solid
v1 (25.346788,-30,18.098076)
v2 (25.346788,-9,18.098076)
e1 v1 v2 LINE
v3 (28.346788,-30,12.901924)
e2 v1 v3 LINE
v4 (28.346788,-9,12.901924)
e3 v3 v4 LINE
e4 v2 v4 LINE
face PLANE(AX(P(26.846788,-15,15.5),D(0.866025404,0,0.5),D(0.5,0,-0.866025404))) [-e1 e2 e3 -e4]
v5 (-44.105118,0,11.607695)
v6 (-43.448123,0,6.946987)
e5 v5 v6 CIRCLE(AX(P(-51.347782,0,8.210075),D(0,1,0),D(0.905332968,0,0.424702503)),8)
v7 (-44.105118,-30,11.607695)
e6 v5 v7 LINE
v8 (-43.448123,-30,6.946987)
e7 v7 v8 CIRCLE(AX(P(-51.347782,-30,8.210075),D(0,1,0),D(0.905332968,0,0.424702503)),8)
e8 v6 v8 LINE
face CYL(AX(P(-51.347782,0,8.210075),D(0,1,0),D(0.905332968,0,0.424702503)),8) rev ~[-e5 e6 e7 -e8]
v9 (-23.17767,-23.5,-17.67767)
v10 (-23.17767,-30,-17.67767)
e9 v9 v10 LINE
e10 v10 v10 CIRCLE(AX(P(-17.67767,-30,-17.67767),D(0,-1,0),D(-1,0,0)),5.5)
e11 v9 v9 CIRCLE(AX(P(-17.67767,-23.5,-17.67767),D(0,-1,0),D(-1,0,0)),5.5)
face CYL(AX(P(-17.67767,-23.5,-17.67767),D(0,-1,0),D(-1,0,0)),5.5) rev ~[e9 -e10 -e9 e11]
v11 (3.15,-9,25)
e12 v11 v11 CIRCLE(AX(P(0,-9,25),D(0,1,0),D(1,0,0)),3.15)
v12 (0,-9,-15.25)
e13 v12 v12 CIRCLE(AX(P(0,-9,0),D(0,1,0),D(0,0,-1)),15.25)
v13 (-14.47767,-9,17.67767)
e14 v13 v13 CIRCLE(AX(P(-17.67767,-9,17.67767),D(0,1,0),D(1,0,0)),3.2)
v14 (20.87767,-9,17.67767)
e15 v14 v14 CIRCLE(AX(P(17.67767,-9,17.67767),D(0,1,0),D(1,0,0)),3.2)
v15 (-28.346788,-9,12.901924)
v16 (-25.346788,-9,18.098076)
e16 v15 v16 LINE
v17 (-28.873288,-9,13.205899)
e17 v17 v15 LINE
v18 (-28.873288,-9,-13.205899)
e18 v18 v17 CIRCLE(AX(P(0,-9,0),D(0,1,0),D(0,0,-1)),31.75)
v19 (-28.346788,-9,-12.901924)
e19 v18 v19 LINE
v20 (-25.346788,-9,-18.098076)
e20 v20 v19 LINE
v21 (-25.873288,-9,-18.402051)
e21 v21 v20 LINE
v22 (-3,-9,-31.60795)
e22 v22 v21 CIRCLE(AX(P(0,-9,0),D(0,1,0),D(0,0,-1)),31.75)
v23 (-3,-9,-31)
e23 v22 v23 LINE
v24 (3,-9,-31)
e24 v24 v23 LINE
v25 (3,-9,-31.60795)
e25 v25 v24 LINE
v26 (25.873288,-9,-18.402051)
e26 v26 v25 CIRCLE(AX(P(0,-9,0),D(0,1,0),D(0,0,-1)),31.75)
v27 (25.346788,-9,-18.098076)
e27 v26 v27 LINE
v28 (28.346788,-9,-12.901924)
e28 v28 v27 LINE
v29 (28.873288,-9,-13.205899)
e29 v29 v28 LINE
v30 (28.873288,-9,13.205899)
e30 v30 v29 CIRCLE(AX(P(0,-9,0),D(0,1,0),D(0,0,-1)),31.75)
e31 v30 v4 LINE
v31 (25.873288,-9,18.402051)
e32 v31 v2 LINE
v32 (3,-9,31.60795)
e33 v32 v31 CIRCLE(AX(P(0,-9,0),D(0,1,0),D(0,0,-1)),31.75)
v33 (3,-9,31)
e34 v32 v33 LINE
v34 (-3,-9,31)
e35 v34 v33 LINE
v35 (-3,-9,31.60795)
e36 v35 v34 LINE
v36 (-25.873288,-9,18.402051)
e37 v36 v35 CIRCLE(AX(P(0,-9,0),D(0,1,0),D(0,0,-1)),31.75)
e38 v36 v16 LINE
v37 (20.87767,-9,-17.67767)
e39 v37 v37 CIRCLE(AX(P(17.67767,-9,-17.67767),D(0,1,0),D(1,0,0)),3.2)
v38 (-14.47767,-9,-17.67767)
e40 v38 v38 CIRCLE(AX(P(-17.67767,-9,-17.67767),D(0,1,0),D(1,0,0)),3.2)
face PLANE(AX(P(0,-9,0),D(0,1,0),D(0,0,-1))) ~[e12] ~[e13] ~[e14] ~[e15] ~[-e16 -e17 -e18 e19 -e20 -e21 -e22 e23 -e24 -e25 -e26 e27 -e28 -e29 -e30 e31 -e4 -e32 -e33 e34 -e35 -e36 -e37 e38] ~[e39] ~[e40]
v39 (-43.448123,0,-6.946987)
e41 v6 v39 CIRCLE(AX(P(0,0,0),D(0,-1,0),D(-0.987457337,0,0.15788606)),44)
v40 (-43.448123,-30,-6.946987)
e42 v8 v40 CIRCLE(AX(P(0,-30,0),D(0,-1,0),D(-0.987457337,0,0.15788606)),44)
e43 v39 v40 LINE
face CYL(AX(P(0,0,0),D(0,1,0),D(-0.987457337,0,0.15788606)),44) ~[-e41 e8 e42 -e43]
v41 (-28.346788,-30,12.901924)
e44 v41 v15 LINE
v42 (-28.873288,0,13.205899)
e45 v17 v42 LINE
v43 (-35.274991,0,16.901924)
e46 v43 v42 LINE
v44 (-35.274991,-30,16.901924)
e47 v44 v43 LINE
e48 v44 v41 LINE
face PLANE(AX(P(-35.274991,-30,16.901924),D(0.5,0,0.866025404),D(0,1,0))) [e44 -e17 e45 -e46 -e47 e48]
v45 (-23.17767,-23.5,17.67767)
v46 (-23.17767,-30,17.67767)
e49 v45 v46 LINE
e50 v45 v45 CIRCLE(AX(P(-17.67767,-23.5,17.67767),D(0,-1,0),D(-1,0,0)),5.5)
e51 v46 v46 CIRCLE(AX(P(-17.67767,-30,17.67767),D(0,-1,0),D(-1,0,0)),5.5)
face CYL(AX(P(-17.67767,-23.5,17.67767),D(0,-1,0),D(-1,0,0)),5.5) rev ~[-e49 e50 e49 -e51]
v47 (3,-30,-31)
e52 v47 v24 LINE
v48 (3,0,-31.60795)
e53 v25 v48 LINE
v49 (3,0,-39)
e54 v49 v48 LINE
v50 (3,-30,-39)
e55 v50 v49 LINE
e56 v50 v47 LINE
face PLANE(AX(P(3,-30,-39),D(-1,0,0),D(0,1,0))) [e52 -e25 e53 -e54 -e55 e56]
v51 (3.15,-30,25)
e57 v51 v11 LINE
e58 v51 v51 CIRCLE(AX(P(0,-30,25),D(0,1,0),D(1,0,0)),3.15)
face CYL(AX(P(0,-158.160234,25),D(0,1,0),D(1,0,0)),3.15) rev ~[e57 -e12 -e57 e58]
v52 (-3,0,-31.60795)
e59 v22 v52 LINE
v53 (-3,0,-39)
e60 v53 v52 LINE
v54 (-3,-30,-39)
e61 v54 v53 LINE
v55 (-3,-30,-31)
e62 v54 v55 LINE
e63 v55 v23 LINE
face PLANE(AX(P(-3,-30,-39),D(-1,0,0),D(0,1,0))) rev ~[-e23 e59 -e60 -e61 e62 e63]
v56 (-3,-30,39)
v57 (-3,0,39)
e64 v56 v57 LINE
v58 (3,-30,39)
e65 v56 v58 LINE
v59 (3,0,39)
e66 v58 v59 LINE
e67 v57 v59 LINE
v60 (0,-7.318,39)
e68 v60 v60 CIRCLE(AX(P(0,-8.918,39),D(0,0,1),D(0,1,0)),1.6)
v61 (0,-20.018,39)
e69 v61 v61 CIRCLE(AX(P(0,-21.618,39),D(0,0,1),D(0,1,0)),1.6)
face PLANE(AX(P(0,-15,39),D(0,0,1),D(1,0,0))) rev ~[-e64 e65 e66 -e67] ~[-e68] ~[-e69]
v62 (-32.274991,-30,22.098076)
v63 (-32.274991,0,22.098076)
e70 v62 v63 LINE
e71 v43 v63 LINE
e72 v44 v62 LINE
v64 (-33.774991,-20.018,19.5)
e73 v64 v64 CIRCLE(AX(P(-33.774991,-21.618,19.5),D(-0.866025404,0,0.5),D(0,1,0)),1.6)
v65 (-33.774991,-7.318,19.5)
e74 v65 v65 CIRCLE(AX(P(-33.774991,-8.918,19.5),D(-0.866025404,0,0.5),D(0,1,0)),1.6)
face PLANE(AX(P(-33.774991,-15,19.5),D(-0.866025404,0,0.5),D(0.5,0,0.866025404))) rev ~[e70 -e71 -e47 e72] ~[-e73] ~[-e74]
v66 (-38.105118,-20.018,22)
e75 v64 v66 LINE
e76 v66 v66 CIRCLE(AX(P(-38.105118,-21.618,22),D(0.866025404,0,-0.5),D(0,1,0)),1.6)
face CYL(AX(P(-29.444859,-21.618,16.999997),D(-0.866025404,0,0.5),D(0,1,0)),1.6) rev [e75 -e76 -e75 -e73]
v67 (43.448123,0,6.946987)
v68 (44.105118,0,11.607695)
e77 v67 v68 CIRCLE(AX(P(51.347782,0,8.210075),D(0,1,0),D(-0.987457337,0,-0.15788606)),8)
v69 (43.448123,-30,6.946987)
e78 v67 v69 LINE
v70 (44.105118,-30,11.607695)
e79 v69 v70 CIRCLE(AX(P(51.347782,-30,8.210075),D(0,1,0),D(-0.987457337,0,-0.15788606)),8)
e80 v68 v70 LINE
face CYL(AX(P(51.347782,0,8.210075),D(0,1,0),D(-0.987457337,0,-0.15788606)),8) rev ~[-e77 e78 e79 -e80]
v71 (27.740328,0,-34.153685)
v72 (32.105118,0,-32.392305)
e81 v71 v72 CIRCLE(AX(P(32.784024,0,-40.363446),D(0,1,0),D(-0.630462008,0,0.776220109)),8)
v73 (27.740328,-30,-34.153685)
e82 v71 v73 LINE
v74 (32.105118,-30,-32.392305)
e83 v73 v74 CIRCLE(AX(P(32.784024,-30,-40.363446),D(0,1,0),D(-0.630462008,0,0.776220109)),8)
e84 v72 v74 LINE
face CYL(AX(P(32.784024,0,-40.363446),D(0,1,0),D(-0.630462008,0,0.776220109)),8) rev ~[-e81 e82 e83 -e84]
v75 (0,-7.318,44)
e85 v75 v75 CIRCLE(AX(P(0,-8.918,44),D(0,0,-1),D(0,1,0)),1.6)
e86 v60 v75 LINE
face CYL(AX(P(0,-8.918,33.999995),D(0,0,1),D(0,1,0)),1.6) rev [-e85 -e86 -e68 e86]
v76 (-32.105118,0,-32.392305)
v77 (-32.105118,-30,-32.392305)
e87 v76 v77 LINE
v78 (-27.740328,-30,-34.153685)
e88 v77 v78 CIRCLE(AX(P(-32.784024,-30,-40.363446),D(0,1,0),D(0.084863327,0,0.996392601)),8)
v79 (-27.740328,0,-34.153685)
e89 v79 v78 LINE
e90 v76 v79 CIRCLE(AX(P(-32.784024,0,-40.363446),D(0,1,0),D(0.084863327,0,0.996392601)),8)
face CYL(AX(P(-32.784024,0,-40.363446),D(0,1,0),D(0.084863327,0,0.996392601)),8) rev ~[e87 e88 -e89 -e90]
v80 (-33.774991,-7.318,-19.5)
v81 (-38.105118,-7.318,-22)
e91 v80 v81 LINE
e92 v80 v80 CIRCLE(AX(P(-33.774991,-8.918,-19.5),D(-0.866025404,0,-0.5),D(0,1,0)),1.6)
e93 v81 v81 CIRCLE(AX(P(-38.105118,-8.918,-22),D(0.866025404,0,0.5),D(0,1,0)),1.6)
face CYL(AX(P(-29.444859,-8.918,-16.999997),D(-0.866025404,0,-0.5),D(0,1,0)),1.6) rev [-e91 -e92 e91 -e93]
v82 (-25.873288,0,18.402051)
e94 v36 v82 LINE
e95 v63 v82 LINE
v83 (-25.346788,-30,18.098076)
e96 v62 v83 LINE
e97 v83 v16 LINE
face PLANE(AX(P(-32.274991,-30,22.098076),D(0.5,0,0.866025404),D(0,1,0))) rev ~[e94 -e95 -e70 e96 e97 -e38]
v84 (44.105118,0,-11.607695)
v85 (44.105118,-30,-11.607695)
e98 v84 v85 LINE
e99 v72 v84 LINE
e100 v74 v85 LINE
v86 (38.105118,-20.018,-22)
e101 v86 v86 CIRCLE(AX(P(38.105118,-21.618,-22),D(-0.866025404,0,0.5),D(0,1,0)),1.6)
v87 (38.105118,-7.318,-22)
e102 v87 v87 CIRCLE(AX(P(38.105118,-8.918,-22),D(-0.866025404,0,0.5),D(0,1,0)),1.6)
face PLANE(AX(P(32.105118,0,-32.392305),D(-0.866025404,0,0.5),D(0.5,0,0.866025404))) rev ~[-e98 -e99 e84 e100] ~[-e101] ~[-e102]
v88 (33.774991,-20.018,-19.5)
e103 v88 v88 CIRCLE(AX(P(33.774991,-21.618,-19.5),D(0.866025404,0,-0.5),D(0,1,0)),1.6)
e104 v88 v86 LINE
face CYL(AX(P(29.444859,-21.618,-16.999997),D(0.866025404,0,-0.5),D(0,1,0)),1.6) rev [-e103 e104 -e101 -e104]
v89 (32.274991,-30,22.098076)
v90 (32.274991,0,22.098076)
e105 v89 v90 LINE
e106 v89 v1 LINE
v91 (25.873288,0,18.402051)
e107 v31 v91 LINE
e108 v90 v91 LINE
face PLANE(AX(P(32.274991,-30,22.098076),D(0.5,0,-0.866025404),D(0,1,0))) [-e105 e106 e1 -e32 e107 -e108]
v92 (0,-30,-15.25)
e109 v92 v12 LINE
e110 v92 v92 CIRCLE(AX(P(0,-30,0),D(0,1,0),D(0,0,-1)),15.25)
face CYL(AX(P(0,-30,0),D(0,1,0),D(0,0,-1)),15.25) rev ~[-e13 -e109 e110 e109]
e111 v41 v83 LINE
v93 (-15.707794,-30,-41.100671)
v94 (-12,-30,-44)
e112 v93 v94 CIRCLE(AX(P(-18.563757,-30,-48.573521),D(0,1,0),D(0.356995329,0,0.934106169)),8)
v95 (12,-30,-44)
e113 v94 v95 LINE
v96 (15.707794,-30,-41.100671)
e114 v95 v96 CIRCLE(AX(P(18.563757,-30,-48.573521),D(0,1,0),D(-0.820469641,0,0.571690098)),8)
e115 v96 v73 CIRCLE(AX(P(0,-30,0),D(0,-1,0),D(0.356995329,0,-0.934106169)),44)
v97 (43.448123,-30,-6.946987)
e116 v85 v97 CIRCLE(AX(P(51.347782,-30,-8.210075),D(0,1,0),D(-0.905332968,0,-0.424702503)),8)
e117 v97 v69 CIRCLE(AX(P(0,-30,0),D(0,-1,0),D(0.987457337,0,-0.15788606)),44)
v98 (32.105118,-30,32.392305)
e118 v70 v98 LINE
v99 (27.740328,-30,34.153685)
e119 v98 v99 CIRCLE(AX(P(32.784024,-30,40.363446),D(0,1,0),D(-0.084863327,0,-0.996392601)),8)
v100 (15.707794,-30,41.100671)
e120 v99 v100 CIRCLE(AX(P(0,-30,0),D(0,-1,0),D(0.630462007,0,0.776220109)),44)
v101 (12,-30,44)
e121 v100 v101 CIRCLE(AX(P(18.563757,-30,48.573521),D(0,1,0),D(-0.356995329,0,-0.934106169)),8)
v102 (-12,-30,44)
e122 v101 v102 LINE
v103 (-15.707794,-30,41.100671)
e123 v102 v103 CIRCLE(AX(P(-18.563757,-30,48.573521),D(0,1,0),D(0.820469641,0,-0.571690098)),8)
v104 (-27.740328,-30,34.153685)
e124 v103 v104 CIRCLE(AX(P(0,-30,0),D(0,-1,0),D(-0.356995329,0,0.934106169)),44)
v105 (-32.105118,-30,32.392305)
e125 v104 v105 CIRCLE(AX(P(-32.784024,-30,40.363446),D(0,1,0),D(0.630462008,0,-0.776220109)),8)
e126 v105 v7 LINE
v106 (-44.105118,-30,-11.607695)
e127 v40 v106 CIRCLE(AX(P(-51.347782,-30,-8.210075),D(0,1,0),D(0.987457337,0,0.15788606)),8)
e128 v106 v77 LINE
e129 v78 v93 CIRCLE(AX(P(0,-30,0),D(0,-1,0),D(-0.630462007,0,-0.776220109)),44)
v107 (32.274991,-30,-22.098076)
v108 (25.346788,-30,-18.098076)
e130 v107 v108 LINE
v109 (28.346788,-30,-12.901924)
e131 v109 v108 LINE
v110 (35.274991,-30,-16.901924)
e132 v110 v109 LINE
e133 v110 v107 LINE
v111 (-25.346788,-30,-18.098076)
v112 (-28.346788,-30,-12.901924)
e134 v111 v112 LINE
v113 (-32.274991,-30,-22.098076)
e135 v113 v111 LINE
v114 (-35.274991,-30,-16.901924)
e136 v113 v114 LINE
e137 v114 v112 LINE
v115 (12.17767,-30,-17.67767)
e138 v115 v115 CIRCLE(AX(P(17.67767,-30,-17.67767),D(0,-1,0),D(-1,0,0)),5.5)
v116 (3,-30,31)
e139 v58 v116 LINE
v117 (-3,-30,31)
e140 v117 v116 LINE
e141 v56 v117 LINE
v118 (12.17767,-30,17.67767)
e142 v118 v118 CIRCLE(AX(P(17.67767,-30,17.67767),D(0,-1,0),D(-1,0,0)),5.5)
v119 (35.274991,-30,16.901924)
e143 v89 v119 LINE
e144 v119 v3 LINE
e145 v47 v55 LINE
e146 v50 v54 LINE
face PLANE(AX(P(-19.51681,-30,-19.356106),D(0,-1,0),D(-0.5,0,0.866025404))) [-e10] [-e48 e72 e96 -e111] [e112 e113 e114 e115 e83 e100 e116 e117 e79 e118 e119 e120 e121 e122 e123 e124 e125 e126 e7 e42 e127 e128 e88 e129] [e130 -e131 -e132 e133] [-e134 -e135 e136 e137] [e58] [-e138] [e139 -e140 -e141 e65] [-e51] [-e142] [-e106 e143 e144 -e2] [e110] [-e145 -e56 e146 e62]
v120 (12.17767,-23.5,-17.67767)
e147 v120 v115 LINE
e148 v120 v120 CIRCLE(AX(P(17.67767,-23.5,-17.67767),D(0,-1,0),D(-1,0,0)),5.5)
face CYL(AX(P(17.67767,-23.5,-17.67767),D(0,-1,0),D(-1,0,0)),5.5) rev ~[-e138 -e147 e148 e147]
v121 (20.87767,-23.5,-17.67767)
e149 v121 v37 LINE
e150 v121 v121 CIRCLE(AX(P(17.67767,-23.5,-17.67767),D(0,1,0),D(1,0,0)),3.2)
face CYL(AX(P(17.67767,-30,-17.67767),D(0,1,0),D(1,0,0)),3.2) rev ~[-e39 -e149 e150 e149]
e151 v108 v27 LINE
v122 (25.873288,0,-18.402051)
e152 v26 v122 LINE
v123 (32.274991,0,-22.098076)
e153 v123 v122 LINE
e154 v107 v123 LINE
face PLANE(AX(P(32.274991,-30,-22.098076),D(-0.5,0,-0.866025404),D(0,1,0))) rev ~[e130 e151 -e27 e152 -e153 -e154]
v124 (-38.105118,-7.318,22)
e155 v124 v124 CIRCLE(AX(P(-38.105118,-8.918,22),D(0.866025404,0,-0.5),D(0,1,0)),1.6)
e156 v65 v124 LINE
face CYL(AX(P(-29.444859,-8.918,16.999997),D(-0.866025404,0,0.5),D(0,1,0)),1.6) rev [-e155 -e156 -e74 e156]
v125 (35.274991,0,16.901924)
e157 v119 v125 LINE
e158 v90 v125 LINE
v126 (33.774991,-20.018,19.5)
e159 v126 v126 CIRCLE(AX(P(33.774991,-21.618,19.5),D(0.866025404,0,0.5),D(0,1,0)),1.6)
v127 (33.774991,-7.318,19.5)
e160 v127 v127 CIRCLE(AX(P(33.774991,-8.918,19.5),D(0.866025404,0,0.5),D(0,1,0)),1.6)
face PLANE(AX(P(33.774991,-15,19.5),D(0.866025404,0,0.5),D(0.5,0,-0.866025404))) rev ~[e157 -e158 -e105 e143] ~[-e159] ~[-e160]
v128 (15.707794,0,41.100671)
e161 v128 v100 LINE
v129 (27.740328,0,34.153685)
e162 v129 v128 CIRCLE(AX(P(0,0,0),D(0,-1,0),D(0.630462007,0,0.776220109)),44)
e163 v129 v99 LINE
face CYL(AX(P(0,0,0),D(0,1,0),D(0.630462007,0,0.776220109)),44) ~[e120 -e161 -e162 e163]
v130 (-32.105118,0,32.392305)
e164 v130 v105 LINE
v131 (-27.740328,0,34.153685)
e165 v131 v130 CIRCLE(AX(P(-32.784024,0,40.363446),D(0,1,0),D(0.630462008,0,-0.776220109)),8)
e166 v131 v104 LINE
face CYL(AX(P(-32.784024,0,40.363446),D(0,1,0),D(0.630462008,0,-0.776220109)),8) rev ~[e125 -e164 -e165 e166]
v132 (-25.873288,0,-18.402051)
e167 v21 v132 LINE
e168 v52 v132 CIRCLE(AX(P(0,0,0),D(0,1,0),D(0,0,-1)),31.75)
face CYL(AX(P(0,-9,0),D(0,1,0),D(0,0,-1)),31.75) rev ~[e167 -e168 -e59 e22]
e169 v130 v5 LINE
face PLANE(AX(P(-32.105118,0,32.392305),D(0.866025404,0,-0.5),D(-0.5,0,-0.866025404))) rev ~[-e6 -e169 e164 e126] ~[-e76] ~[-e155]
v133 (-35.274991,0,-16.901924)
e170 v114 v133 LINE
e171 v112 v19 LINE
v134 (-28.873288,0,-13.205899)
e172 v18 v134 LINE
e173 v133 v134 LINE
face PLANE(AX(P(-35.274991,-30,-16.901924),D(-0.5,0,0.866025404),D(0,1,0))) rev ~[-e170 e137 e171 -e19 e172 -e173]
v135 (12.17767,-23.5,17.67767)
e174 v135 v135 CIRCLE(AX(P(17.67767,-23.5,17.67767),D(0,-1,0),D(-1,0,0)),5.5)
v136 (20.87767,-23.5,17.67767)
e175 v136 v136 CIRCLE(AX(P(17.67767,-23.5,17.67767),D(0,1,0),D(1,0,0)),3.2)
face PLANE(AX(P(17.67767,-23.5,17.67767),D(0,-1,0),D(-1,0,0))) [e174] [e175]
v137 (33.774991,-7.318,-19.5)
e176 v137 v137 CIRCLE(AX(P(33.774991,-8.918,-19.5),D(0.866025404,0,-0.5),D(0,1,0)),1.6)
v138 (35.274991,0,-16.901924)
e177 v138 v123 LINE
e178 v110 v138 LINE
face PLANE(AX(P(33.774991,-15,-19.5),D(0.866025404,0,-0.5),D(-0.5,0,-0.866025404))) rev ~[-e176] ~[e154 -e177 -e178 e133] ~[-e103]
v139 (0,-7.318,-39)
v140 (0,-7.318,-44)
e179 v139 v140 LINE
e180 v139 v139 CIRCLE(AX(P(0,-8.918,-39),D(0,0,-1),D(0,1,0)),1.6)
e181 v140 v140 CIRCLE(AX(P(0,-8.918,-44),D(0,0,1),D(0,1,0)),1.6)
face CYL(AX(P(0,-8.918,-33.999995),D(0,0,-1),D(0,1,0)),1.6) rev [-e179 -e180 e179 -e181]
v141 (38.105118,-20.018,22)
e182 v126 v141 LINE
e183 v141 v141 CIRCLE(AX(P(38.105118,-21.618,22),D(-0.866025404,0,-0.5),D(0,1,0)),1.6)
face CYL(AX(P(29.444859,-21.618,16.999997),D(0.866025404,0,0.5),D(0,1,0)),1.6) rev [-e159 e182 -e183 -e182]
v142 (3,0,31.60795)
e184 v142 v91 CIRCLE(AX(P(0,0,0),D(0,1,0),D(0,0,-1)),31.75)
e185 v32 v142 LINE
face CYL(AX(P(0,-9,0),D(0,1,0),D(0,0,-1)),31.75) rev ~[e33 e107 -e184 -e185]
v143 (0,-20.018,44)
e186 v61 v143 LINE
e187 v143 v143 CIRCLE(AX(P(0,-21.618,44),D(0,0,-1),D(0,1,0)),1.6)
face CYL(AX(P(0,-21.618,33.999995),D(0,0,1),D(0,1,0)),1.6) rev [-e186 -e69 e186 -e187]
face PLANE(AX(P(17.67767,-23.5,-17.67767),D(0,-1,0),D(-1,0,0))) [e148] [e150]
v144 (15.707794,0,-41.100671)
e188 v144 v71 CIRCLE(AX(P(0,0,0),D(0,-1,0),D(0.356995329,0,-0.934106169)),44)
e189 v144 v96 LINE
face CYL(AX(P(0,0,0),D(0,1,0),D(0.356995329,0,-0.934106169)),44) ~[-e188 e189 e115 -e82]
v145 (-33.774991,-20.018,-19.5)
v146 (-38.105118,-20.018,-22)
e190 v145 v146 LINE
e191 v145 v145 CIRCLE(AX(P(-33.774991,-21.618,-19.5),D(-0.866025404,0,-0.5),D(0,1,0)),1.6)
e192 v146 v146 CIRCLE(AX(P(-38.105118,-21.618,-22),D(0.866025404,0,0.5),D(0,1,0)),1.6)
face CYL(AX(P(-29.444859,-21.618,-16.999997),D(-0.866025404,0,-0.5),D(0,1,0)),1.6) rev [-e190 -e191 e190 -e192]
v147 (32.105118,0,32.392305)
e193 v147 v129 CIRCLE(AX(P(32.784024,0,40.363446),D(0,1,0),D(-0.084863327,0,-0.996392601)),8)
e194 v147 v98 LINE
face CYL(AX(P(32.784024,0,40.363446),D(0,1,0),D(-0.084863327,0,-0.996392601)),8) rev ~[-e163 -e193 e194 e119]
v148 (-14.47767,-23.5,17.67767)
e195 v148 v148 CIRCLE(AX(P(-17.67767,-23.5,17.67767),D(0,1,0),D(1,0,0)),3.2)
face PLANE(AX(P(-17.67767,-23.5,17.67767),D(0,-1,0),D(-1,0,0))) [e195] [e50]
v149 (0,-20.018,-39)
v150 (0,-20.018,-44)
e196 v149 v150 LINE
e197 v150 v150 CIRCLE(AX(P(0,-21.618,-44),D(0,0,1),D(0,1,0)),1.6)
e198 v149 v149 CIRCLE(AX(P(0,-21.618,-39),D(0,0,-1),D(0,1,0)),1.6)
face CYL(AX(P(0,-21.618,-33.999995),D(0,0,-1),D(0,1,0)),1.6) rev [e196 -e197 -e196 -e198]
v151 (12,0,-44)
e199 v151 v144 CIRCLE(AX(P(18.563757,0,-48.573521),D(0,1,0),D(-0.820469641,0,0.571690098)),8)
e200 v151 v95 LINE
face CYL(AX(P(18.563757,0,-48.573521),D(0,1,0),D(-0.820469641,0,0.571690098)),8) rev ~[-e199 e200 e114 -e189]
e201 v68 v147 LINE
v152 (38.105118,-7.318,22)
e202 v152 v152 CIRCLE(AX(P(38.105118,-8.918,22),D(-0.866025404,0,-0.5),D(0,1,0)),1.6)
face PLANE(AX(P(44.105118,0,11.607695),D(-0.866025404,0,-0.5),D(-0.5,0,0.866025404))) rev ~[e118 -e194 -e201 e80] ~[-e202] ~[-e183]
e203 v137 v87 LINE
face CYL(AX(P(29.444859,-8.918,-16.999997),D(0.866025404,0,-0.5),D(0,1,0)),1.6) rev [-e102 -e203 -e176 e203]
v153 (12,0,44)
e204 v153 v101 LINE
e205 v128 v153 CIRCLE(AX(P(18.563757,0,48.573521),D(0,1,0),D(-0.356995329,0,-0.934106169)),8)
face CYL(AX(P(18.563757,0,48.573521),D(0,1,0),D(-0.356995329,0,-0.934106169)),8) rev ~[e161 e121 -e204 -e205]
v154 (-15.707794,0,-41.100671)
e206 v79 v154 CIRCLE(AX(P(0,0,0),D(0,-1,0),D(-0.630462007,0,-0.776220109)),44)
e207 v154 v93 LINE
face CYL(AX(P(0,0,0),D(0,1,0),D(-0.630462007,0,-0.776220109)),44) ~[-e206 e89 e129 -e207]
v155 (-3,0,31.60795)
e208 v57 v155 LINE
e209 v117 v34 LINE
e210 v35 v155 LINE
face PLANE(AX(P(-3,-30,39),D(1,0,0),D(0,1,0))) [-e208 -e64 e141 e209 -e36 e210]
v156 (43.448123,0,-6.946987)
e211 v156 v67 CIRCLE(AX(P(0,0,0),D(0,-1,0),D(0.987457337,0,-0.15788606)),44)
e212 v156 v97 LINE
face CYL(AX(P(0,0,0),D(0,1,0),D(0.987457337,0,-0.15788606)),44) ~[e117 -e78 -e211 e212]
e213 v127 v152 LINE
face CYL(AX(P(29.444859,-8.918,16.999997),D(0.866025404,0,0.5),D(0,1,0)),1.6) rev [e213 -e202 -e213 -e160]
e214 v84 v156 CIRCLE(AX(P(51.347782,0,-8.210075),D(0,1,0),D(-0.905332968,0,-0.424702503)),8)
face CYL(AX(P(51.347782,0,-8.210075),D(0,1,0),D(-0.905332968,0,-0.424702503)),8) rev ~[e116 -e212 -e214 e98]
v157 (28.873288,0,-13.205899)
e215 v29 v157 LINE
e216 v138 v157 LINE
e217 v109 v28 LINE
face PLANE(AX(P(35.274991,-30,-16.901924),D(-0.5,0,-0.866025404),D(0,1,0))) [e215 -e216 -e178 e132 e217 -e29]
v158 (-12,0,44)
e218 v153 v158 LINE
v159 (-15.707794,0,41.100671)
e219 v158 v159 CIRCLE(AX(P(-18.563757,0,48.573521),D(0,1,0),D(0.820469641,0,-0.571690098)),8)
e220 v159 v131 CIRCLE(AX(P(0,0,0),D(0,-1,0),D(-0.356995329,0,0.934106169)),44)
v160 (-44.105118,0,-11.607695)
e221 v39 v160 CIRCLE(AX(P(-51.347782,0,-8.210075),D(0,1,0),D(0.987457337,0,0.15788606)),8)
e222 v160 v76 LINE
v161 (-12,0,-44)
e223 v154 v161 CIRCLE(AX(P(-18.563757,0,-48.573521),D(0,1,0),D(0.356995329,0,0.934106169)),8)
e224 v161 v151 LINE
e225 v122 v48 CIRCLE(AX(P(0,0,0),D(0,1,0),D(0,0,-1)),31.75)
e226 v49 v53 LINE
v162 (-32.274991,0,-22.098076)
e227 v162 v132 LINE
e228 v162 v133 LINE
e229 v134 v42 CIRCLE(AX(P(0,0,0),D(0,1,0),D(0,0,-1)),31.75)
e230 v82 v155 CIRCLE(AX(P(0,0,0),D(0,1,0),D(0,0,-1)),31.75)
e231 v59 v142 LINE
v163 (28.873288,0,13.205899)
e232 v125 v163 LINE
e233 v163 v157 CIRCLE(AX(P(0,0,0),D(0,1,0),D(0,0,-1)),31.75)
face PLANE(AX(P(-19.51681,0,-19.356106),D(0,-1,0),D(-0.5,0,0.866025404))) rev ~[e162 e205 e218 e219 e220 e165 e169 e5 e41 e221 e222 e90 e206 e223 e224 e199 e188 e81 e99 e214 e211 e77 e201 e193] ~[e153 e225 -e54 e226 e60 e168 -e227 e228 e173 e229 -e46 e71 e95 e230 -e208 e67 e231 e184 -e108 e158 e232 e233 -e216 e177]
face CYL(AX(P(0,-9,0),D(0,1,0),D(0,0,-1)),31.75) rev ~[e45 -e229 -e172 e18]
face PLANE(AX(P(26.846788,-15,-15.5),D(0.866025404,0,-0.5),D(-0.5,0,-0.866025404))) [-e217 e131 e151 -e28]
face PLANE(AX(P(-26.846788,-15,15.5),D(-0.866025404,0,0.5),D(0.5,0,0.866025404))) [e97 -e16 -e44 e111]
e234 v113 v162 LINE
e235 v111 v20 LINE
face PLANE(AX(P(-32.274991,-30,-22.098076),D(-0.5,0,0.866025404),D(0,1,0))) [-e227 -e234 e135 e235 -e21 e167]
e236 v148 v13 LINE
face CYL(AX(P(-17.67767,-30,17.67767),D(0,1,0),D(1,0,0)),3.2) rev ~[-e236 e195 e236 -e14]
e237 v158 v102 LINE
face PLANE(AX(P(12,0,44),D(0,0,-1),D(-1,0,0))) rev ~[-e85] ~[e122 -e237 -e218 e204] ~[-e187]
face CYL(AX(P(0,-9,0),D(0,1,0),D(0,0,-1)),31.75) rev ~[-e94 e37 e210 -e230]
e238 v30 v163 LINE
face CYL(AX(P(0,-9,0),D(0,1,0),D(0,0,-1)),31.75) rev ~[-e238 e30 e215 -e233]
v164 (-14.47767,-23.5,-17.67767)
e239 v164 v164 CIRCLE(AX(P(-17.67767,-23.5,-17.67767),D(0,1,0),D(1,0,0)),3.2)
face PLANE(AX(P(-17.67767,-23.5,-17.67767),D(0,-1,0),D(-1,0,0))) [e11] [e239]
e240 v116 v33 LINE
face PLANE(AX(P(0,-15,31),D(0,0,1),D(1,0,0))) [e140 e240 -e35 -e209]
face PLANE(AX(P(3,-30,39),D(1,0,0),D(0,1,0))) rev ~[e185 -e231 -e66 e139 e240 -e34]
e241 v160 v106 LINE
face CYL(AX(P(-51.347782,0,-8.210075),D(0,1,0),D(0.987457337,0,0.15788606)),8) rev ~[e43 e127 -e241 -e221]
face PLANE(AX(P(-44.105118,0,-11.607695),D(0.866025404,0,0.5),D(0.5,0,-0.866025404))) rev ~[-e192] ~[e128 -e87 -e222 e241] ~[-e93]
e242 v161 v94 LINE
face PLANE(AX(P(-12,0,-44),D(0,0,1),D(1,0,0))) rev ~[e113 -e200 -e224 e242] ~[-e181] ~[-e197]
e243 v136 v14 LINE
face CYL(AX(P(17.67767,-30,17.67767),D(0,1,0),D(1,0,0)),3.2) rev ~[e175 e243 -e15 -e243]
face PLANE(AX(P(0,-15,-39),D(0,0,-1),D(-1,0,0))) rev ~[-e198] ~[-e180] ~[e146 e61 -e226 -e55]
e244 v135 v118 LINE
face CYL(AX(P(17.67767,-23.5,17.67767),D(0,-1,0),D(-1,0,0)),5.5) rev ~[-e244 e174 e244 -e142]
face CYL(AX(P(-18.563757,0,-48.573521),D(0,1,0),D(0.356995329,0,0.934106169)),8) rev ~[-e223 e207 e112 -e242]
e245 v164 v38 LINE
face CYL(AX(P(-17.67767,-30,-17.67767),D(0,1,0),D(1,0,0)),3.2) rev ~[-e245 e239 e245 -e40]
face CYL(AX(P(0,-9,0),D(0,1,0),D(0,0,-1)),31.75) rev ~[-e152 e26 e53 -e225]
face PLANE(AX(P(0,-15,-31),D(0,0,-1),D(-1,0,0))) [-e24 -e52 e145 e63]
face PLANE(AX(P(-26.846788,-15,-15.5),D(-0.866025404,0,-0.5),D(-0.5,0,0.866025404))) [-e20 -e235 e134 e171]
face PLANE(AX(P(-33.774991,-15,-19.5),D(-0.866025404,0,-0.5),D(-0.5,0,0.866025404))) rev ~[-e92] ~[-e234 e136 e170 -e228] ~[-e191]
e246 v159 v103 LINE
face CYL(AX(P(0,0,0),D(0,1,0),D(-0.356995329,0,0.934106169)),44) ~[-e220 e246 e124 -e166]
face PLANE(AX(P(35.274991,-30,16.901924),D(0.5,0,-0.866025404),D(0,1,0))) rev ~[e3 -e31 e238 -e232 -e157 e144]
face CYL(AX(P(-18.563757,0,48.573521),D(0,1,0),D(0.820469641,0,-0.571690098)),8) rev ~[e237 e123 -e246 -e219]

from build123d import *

# Parameters (mm, degrees)
BOSS_EXTRUDE1_DEPTH                          = 30
M3_CLEARANCE_HOLE_PLASTIC_PARTS_ONLY_A_COUNT = 2
M3_CLEARANCE_HOLE_PLASTIC_PARTS_ONLY_A_PITCH = 12.7
WRENCH_START                                 = -5
SKETCH10_W                                   = 5.999999938
SKETCH10_H                                   = 30
WRENCH_CLEARANCE_SLOTS_PLASTIC_PARTS_O_DEPTH = 8
BODY_REVOLVE_PLASTIC_PARTS_ONLY_COUNT        = 6
MOUNTING_SCREWS_D                            = 6.4
MOUNTING_SCREWS_CBORE_D                      = 11
MOUNTING_SCREWS_CBORE_DEPTH                  = 6.5
LOCATING_PIN_D                               = 6.3


with BuildPart() as part:
    # Sketch2 → Boss-Extrude1 (new body)
    with BuildSketch(Plane(origin=(0, 0, 0), x_dir=(1, 0, 0), z_dir=(0, 1, 0))):
        with BuildLine():
            Line((-12, 44), (12, 44))
            ThreePointArc((12, 44), (13.635846147, 42.271481958), (15.707794494, 41.100671432))
            ThreePointArc((15.707794494, 41.100671432), (22, 38.105117767), (27.740328326, 34.153684785))
            ThreePointArc((27.740328326, 34.153684785), (29.790254158, 32.944730144), (32.105117767, 32.392304845))
            Line((32.105117767, 32.392304845), (0, 0))
            Line((0, 0), (-12, 44))
        make_face()
    boss_extrude1 = extrude(amount=-BOSS_EXTRUDE1_DEPTH)

    # Sketch9 → M3 Clearance Hole - Plastic Parts Only (revolve, cut)
    with BuildSketch(Plane(origin=(0, -8.918, -44), x_dir=(0, 1, 0), z_dir=(1, 0, 0))):
        Polygon((0, 0), (0, 10.96138239), (1.6, 10.0000054), (1.6, 0), align=None)
    m3_clearance_hole_plastic_parts_only = revolve(axis=Axis((0, -8.918, -50.35), (0, 0, 1)), mode=Mode.SUBTRACT)

    # M3 Clearance Hole - Plastic Parts Only a: M3 Clearance Hole - Plastic Parts Only ×2
    with Locations(*[(0, -i * M3_CLEARANCE_HOLE_PLASTIC_PARTS_ONLY_A_PITCH, 0) for i in range(1, M3_CLEARANCE_HOLE_PLASTIC_PARTS_ONLY_A_COUNT)]):
        add(m3_clearance_hole_plastic_parts_only, mode=Mode.SUBTRACT)

    # Sketch10 → Wrench Clearance Slots - Plastic Parts Only (cut)
    with BuildSketch(Plane(origin=(0, 0, -44), x_dir=(-1, 0, 0), z_dir=(0, 0, -1)).offset(WRENCH_START)):
        with Locations((0, -15)):
            Rectangle(SKETCH10_W, SKETCH10_H)
    wrench_clearance_slots_plastic_parts_o = extrude(amount=-WRENCH_CLEARANCE_SLOTS_PLASTIC_PARTS_O_DEPTH, mode=Mode.SUBTRACT)

    # Body Revolve - Plastic Parts Only: Boss-Extrude1, M3 Clearance Hole - Plastic Parts Only, Wrench Clearance Slots - Plastic Parts Only ×6 about axis
    body_revolve_plastic_parts_only_axis = Axis((0, 0, 0), (0, 1, 0))
    add([boss_extrude1.rotate(body_revolve_plastic_parts_only_axis, i * 360 / BODY_REVOLVE_PLASTIC_PARTS_ONLY_COUNT) for i in range(1, BODY_REVOLVE_PLASTIC_PARTS_ONLY_COUNT)])
    add([m3_clearance_hole_plastic_parts_only.rotate(body_revolve_plastic_parts_only_axis, i * 360 / BODY_REVOLVE_PLASTIC_PARTS_ONLY_COUNT) for i in range(1, BODY_REVOLVE_PLASTIC_PARTS_ONLY_COUNT)], mode=Mode.SUBTRACT)
    add([wrench_clearance_slots_plastic_parts_o.rotate(body_revolve_plastic_parts_only_axis, i * 360 / BODY_REVOLVE_PLASTIC_PARTS_ONLY_COUNT) for i in range(1, BODY_REVOLVE_PLASTIC_PARTS_ONLY_COUNT)], mode=Mode.SUBTRACT)

    # Body Revolve - Plastic Parts Only copy 1 → Body Revolve - Plastic Parts Only co 2 (revolve, cut)
    with BuildSketch(Plane(origin=(-38.105117767, -21.618, -22), x_dir=(0, 1, 0), z_dir=(0.5000000000000001, 0, -0.8660254037844386))):
        Polygon((0, 0), (0, 10.96138239), (1.6, 10.0000054), (1.6, 0), align=None)
    revolve(axis=Axis((-43.604379081, -21.618, -25.175), (0.8660254037844386, 0, 0.5000000000000001)), mode=Mode.SUBTRACT)

    # Body Revolve - Plastic Parts Only copy 2 → Body Revolve - Plastic Parts Only co 3 (revolve, cut)
    with BuildSketch(Plane(origin=(-38.105117767, -21.618, 22), x_dir=(0, 1, 0), z_dir=(-0.4999999999999998, 0, -0.8660254037844387))):
        Polygon((0, 0), (0, 10.96138239), (1.6, 10.0000054), (1.6, 0), align=None)
    revolve(axis=Axis((-43.604379081, -21.618, 25.175), (0.8660254037844387, 0, -0.4999999999999998)), mode=Mode.SUBTRACT)

    # Body Revolve - Plastic Parts Only copy 3 → Body Revolve - Plastic Parts Only co 4 (revolve, cut)
    with BuildSketch(Plane(origin=(0, -21.618, 44), x_dir=(0, 1, 0), z_dir=(-1, 0, 0))):
        Polygon((0, 0), (0, 10.96138239), (1.6, 10.0000054), (1.6, 0), align=None)
    revolve(axis=Axis((0, -21.618, 50.35), (0, 0, -1)), mode=Mode.SUBTRACT)

    # Body Revolve - Plastic Parts Only copy 4 → Body Revolve - Plastic Parts Only co 5 (revolve, cut)
    with BuildSketch(Plane(origin=(38.105117767, -21.618, 22), x_dir=(0, 1, 0), z_dir=(-0.5000000000000004, 0, 0.8660254037844384))):
        Polygon((0, 0), (0, 10.96138239), (1.6, 10.0000054), (1.6, 0), align=None)
    revolve(axis=Axis((43.604379081, -21.618, 25.175), (-0.8660254037844384, 0, -0.5000000000000004)), mode=Mode.SUBTRACT)

    # Body Revolve - Plastic Parts Only copy 5 → Body Revolve - Plastic Parts Only co 6 (revolve, cut)
    with BuildSketch(Plane(origin=(38.105117767, -21.618, -22), x_dir=(0, 1, 0), z_dir=(0.5000000000000001, 0, 0.8660254037844386))):
        Polygon((0, 0), (0, 10.96138239), (1.6, 10.0000054), (1.6, 0), align=None)
    revolve(axis=Axis((43.604379081, -21.618, -25.175), (-0.8660254037844386, 0, 0.5000000000000001)), mode=Mode.SUBTRACT)

    # Sketch3 → End of Arm Flange Clearance (revolve, cut)
    with BuildSketch(Plane.XY, mode=Mode.PRIVATE) as end_of_arm_flange_clearance_sk:
        Polygon((0, 0), (0, -30), (15.25, -30), (15.25, -9), (31.75, -9), (31.75, 0), align=None)
    revolve(end_of_arm_flange_clearance_sk.sketch.rotate(Axis((0, -948.680059029, 0), (0, 1, 0)), 90), axis=Axis((0, -948.680059029, 0), (0, 1, 0)), mode=Mode.SUBTRACT)

    # Mounting Screws (through all)
    with Locations(Plane(origin=(0, -30, 0), x_dir=(-1, 0, 0), z_dir=(0, -1, 0))):
        with Locations((-17.67766953, -17.67766953), (-17.67766953, 17.67766953), (17.67766953, 17.67766953), (17.67766953, -17.67766953)):
            CounterBoreHole(MOUNTING_SCREWS_D / 2, MOUNTING_SCREWS_CBORE_D / 2, MOUNTING_SCREWS_CBORE_DEPTH)

    # Locating Pin (through all)
    with Locations(Plane(origin=(0, -30, 0), x_dir=(-1, 0, 0), z_dir=(0, -1, 0))):
        with Locations((0, -25)):
            Hole(LOCATING_PIN_D / 2)


solid = part.part
